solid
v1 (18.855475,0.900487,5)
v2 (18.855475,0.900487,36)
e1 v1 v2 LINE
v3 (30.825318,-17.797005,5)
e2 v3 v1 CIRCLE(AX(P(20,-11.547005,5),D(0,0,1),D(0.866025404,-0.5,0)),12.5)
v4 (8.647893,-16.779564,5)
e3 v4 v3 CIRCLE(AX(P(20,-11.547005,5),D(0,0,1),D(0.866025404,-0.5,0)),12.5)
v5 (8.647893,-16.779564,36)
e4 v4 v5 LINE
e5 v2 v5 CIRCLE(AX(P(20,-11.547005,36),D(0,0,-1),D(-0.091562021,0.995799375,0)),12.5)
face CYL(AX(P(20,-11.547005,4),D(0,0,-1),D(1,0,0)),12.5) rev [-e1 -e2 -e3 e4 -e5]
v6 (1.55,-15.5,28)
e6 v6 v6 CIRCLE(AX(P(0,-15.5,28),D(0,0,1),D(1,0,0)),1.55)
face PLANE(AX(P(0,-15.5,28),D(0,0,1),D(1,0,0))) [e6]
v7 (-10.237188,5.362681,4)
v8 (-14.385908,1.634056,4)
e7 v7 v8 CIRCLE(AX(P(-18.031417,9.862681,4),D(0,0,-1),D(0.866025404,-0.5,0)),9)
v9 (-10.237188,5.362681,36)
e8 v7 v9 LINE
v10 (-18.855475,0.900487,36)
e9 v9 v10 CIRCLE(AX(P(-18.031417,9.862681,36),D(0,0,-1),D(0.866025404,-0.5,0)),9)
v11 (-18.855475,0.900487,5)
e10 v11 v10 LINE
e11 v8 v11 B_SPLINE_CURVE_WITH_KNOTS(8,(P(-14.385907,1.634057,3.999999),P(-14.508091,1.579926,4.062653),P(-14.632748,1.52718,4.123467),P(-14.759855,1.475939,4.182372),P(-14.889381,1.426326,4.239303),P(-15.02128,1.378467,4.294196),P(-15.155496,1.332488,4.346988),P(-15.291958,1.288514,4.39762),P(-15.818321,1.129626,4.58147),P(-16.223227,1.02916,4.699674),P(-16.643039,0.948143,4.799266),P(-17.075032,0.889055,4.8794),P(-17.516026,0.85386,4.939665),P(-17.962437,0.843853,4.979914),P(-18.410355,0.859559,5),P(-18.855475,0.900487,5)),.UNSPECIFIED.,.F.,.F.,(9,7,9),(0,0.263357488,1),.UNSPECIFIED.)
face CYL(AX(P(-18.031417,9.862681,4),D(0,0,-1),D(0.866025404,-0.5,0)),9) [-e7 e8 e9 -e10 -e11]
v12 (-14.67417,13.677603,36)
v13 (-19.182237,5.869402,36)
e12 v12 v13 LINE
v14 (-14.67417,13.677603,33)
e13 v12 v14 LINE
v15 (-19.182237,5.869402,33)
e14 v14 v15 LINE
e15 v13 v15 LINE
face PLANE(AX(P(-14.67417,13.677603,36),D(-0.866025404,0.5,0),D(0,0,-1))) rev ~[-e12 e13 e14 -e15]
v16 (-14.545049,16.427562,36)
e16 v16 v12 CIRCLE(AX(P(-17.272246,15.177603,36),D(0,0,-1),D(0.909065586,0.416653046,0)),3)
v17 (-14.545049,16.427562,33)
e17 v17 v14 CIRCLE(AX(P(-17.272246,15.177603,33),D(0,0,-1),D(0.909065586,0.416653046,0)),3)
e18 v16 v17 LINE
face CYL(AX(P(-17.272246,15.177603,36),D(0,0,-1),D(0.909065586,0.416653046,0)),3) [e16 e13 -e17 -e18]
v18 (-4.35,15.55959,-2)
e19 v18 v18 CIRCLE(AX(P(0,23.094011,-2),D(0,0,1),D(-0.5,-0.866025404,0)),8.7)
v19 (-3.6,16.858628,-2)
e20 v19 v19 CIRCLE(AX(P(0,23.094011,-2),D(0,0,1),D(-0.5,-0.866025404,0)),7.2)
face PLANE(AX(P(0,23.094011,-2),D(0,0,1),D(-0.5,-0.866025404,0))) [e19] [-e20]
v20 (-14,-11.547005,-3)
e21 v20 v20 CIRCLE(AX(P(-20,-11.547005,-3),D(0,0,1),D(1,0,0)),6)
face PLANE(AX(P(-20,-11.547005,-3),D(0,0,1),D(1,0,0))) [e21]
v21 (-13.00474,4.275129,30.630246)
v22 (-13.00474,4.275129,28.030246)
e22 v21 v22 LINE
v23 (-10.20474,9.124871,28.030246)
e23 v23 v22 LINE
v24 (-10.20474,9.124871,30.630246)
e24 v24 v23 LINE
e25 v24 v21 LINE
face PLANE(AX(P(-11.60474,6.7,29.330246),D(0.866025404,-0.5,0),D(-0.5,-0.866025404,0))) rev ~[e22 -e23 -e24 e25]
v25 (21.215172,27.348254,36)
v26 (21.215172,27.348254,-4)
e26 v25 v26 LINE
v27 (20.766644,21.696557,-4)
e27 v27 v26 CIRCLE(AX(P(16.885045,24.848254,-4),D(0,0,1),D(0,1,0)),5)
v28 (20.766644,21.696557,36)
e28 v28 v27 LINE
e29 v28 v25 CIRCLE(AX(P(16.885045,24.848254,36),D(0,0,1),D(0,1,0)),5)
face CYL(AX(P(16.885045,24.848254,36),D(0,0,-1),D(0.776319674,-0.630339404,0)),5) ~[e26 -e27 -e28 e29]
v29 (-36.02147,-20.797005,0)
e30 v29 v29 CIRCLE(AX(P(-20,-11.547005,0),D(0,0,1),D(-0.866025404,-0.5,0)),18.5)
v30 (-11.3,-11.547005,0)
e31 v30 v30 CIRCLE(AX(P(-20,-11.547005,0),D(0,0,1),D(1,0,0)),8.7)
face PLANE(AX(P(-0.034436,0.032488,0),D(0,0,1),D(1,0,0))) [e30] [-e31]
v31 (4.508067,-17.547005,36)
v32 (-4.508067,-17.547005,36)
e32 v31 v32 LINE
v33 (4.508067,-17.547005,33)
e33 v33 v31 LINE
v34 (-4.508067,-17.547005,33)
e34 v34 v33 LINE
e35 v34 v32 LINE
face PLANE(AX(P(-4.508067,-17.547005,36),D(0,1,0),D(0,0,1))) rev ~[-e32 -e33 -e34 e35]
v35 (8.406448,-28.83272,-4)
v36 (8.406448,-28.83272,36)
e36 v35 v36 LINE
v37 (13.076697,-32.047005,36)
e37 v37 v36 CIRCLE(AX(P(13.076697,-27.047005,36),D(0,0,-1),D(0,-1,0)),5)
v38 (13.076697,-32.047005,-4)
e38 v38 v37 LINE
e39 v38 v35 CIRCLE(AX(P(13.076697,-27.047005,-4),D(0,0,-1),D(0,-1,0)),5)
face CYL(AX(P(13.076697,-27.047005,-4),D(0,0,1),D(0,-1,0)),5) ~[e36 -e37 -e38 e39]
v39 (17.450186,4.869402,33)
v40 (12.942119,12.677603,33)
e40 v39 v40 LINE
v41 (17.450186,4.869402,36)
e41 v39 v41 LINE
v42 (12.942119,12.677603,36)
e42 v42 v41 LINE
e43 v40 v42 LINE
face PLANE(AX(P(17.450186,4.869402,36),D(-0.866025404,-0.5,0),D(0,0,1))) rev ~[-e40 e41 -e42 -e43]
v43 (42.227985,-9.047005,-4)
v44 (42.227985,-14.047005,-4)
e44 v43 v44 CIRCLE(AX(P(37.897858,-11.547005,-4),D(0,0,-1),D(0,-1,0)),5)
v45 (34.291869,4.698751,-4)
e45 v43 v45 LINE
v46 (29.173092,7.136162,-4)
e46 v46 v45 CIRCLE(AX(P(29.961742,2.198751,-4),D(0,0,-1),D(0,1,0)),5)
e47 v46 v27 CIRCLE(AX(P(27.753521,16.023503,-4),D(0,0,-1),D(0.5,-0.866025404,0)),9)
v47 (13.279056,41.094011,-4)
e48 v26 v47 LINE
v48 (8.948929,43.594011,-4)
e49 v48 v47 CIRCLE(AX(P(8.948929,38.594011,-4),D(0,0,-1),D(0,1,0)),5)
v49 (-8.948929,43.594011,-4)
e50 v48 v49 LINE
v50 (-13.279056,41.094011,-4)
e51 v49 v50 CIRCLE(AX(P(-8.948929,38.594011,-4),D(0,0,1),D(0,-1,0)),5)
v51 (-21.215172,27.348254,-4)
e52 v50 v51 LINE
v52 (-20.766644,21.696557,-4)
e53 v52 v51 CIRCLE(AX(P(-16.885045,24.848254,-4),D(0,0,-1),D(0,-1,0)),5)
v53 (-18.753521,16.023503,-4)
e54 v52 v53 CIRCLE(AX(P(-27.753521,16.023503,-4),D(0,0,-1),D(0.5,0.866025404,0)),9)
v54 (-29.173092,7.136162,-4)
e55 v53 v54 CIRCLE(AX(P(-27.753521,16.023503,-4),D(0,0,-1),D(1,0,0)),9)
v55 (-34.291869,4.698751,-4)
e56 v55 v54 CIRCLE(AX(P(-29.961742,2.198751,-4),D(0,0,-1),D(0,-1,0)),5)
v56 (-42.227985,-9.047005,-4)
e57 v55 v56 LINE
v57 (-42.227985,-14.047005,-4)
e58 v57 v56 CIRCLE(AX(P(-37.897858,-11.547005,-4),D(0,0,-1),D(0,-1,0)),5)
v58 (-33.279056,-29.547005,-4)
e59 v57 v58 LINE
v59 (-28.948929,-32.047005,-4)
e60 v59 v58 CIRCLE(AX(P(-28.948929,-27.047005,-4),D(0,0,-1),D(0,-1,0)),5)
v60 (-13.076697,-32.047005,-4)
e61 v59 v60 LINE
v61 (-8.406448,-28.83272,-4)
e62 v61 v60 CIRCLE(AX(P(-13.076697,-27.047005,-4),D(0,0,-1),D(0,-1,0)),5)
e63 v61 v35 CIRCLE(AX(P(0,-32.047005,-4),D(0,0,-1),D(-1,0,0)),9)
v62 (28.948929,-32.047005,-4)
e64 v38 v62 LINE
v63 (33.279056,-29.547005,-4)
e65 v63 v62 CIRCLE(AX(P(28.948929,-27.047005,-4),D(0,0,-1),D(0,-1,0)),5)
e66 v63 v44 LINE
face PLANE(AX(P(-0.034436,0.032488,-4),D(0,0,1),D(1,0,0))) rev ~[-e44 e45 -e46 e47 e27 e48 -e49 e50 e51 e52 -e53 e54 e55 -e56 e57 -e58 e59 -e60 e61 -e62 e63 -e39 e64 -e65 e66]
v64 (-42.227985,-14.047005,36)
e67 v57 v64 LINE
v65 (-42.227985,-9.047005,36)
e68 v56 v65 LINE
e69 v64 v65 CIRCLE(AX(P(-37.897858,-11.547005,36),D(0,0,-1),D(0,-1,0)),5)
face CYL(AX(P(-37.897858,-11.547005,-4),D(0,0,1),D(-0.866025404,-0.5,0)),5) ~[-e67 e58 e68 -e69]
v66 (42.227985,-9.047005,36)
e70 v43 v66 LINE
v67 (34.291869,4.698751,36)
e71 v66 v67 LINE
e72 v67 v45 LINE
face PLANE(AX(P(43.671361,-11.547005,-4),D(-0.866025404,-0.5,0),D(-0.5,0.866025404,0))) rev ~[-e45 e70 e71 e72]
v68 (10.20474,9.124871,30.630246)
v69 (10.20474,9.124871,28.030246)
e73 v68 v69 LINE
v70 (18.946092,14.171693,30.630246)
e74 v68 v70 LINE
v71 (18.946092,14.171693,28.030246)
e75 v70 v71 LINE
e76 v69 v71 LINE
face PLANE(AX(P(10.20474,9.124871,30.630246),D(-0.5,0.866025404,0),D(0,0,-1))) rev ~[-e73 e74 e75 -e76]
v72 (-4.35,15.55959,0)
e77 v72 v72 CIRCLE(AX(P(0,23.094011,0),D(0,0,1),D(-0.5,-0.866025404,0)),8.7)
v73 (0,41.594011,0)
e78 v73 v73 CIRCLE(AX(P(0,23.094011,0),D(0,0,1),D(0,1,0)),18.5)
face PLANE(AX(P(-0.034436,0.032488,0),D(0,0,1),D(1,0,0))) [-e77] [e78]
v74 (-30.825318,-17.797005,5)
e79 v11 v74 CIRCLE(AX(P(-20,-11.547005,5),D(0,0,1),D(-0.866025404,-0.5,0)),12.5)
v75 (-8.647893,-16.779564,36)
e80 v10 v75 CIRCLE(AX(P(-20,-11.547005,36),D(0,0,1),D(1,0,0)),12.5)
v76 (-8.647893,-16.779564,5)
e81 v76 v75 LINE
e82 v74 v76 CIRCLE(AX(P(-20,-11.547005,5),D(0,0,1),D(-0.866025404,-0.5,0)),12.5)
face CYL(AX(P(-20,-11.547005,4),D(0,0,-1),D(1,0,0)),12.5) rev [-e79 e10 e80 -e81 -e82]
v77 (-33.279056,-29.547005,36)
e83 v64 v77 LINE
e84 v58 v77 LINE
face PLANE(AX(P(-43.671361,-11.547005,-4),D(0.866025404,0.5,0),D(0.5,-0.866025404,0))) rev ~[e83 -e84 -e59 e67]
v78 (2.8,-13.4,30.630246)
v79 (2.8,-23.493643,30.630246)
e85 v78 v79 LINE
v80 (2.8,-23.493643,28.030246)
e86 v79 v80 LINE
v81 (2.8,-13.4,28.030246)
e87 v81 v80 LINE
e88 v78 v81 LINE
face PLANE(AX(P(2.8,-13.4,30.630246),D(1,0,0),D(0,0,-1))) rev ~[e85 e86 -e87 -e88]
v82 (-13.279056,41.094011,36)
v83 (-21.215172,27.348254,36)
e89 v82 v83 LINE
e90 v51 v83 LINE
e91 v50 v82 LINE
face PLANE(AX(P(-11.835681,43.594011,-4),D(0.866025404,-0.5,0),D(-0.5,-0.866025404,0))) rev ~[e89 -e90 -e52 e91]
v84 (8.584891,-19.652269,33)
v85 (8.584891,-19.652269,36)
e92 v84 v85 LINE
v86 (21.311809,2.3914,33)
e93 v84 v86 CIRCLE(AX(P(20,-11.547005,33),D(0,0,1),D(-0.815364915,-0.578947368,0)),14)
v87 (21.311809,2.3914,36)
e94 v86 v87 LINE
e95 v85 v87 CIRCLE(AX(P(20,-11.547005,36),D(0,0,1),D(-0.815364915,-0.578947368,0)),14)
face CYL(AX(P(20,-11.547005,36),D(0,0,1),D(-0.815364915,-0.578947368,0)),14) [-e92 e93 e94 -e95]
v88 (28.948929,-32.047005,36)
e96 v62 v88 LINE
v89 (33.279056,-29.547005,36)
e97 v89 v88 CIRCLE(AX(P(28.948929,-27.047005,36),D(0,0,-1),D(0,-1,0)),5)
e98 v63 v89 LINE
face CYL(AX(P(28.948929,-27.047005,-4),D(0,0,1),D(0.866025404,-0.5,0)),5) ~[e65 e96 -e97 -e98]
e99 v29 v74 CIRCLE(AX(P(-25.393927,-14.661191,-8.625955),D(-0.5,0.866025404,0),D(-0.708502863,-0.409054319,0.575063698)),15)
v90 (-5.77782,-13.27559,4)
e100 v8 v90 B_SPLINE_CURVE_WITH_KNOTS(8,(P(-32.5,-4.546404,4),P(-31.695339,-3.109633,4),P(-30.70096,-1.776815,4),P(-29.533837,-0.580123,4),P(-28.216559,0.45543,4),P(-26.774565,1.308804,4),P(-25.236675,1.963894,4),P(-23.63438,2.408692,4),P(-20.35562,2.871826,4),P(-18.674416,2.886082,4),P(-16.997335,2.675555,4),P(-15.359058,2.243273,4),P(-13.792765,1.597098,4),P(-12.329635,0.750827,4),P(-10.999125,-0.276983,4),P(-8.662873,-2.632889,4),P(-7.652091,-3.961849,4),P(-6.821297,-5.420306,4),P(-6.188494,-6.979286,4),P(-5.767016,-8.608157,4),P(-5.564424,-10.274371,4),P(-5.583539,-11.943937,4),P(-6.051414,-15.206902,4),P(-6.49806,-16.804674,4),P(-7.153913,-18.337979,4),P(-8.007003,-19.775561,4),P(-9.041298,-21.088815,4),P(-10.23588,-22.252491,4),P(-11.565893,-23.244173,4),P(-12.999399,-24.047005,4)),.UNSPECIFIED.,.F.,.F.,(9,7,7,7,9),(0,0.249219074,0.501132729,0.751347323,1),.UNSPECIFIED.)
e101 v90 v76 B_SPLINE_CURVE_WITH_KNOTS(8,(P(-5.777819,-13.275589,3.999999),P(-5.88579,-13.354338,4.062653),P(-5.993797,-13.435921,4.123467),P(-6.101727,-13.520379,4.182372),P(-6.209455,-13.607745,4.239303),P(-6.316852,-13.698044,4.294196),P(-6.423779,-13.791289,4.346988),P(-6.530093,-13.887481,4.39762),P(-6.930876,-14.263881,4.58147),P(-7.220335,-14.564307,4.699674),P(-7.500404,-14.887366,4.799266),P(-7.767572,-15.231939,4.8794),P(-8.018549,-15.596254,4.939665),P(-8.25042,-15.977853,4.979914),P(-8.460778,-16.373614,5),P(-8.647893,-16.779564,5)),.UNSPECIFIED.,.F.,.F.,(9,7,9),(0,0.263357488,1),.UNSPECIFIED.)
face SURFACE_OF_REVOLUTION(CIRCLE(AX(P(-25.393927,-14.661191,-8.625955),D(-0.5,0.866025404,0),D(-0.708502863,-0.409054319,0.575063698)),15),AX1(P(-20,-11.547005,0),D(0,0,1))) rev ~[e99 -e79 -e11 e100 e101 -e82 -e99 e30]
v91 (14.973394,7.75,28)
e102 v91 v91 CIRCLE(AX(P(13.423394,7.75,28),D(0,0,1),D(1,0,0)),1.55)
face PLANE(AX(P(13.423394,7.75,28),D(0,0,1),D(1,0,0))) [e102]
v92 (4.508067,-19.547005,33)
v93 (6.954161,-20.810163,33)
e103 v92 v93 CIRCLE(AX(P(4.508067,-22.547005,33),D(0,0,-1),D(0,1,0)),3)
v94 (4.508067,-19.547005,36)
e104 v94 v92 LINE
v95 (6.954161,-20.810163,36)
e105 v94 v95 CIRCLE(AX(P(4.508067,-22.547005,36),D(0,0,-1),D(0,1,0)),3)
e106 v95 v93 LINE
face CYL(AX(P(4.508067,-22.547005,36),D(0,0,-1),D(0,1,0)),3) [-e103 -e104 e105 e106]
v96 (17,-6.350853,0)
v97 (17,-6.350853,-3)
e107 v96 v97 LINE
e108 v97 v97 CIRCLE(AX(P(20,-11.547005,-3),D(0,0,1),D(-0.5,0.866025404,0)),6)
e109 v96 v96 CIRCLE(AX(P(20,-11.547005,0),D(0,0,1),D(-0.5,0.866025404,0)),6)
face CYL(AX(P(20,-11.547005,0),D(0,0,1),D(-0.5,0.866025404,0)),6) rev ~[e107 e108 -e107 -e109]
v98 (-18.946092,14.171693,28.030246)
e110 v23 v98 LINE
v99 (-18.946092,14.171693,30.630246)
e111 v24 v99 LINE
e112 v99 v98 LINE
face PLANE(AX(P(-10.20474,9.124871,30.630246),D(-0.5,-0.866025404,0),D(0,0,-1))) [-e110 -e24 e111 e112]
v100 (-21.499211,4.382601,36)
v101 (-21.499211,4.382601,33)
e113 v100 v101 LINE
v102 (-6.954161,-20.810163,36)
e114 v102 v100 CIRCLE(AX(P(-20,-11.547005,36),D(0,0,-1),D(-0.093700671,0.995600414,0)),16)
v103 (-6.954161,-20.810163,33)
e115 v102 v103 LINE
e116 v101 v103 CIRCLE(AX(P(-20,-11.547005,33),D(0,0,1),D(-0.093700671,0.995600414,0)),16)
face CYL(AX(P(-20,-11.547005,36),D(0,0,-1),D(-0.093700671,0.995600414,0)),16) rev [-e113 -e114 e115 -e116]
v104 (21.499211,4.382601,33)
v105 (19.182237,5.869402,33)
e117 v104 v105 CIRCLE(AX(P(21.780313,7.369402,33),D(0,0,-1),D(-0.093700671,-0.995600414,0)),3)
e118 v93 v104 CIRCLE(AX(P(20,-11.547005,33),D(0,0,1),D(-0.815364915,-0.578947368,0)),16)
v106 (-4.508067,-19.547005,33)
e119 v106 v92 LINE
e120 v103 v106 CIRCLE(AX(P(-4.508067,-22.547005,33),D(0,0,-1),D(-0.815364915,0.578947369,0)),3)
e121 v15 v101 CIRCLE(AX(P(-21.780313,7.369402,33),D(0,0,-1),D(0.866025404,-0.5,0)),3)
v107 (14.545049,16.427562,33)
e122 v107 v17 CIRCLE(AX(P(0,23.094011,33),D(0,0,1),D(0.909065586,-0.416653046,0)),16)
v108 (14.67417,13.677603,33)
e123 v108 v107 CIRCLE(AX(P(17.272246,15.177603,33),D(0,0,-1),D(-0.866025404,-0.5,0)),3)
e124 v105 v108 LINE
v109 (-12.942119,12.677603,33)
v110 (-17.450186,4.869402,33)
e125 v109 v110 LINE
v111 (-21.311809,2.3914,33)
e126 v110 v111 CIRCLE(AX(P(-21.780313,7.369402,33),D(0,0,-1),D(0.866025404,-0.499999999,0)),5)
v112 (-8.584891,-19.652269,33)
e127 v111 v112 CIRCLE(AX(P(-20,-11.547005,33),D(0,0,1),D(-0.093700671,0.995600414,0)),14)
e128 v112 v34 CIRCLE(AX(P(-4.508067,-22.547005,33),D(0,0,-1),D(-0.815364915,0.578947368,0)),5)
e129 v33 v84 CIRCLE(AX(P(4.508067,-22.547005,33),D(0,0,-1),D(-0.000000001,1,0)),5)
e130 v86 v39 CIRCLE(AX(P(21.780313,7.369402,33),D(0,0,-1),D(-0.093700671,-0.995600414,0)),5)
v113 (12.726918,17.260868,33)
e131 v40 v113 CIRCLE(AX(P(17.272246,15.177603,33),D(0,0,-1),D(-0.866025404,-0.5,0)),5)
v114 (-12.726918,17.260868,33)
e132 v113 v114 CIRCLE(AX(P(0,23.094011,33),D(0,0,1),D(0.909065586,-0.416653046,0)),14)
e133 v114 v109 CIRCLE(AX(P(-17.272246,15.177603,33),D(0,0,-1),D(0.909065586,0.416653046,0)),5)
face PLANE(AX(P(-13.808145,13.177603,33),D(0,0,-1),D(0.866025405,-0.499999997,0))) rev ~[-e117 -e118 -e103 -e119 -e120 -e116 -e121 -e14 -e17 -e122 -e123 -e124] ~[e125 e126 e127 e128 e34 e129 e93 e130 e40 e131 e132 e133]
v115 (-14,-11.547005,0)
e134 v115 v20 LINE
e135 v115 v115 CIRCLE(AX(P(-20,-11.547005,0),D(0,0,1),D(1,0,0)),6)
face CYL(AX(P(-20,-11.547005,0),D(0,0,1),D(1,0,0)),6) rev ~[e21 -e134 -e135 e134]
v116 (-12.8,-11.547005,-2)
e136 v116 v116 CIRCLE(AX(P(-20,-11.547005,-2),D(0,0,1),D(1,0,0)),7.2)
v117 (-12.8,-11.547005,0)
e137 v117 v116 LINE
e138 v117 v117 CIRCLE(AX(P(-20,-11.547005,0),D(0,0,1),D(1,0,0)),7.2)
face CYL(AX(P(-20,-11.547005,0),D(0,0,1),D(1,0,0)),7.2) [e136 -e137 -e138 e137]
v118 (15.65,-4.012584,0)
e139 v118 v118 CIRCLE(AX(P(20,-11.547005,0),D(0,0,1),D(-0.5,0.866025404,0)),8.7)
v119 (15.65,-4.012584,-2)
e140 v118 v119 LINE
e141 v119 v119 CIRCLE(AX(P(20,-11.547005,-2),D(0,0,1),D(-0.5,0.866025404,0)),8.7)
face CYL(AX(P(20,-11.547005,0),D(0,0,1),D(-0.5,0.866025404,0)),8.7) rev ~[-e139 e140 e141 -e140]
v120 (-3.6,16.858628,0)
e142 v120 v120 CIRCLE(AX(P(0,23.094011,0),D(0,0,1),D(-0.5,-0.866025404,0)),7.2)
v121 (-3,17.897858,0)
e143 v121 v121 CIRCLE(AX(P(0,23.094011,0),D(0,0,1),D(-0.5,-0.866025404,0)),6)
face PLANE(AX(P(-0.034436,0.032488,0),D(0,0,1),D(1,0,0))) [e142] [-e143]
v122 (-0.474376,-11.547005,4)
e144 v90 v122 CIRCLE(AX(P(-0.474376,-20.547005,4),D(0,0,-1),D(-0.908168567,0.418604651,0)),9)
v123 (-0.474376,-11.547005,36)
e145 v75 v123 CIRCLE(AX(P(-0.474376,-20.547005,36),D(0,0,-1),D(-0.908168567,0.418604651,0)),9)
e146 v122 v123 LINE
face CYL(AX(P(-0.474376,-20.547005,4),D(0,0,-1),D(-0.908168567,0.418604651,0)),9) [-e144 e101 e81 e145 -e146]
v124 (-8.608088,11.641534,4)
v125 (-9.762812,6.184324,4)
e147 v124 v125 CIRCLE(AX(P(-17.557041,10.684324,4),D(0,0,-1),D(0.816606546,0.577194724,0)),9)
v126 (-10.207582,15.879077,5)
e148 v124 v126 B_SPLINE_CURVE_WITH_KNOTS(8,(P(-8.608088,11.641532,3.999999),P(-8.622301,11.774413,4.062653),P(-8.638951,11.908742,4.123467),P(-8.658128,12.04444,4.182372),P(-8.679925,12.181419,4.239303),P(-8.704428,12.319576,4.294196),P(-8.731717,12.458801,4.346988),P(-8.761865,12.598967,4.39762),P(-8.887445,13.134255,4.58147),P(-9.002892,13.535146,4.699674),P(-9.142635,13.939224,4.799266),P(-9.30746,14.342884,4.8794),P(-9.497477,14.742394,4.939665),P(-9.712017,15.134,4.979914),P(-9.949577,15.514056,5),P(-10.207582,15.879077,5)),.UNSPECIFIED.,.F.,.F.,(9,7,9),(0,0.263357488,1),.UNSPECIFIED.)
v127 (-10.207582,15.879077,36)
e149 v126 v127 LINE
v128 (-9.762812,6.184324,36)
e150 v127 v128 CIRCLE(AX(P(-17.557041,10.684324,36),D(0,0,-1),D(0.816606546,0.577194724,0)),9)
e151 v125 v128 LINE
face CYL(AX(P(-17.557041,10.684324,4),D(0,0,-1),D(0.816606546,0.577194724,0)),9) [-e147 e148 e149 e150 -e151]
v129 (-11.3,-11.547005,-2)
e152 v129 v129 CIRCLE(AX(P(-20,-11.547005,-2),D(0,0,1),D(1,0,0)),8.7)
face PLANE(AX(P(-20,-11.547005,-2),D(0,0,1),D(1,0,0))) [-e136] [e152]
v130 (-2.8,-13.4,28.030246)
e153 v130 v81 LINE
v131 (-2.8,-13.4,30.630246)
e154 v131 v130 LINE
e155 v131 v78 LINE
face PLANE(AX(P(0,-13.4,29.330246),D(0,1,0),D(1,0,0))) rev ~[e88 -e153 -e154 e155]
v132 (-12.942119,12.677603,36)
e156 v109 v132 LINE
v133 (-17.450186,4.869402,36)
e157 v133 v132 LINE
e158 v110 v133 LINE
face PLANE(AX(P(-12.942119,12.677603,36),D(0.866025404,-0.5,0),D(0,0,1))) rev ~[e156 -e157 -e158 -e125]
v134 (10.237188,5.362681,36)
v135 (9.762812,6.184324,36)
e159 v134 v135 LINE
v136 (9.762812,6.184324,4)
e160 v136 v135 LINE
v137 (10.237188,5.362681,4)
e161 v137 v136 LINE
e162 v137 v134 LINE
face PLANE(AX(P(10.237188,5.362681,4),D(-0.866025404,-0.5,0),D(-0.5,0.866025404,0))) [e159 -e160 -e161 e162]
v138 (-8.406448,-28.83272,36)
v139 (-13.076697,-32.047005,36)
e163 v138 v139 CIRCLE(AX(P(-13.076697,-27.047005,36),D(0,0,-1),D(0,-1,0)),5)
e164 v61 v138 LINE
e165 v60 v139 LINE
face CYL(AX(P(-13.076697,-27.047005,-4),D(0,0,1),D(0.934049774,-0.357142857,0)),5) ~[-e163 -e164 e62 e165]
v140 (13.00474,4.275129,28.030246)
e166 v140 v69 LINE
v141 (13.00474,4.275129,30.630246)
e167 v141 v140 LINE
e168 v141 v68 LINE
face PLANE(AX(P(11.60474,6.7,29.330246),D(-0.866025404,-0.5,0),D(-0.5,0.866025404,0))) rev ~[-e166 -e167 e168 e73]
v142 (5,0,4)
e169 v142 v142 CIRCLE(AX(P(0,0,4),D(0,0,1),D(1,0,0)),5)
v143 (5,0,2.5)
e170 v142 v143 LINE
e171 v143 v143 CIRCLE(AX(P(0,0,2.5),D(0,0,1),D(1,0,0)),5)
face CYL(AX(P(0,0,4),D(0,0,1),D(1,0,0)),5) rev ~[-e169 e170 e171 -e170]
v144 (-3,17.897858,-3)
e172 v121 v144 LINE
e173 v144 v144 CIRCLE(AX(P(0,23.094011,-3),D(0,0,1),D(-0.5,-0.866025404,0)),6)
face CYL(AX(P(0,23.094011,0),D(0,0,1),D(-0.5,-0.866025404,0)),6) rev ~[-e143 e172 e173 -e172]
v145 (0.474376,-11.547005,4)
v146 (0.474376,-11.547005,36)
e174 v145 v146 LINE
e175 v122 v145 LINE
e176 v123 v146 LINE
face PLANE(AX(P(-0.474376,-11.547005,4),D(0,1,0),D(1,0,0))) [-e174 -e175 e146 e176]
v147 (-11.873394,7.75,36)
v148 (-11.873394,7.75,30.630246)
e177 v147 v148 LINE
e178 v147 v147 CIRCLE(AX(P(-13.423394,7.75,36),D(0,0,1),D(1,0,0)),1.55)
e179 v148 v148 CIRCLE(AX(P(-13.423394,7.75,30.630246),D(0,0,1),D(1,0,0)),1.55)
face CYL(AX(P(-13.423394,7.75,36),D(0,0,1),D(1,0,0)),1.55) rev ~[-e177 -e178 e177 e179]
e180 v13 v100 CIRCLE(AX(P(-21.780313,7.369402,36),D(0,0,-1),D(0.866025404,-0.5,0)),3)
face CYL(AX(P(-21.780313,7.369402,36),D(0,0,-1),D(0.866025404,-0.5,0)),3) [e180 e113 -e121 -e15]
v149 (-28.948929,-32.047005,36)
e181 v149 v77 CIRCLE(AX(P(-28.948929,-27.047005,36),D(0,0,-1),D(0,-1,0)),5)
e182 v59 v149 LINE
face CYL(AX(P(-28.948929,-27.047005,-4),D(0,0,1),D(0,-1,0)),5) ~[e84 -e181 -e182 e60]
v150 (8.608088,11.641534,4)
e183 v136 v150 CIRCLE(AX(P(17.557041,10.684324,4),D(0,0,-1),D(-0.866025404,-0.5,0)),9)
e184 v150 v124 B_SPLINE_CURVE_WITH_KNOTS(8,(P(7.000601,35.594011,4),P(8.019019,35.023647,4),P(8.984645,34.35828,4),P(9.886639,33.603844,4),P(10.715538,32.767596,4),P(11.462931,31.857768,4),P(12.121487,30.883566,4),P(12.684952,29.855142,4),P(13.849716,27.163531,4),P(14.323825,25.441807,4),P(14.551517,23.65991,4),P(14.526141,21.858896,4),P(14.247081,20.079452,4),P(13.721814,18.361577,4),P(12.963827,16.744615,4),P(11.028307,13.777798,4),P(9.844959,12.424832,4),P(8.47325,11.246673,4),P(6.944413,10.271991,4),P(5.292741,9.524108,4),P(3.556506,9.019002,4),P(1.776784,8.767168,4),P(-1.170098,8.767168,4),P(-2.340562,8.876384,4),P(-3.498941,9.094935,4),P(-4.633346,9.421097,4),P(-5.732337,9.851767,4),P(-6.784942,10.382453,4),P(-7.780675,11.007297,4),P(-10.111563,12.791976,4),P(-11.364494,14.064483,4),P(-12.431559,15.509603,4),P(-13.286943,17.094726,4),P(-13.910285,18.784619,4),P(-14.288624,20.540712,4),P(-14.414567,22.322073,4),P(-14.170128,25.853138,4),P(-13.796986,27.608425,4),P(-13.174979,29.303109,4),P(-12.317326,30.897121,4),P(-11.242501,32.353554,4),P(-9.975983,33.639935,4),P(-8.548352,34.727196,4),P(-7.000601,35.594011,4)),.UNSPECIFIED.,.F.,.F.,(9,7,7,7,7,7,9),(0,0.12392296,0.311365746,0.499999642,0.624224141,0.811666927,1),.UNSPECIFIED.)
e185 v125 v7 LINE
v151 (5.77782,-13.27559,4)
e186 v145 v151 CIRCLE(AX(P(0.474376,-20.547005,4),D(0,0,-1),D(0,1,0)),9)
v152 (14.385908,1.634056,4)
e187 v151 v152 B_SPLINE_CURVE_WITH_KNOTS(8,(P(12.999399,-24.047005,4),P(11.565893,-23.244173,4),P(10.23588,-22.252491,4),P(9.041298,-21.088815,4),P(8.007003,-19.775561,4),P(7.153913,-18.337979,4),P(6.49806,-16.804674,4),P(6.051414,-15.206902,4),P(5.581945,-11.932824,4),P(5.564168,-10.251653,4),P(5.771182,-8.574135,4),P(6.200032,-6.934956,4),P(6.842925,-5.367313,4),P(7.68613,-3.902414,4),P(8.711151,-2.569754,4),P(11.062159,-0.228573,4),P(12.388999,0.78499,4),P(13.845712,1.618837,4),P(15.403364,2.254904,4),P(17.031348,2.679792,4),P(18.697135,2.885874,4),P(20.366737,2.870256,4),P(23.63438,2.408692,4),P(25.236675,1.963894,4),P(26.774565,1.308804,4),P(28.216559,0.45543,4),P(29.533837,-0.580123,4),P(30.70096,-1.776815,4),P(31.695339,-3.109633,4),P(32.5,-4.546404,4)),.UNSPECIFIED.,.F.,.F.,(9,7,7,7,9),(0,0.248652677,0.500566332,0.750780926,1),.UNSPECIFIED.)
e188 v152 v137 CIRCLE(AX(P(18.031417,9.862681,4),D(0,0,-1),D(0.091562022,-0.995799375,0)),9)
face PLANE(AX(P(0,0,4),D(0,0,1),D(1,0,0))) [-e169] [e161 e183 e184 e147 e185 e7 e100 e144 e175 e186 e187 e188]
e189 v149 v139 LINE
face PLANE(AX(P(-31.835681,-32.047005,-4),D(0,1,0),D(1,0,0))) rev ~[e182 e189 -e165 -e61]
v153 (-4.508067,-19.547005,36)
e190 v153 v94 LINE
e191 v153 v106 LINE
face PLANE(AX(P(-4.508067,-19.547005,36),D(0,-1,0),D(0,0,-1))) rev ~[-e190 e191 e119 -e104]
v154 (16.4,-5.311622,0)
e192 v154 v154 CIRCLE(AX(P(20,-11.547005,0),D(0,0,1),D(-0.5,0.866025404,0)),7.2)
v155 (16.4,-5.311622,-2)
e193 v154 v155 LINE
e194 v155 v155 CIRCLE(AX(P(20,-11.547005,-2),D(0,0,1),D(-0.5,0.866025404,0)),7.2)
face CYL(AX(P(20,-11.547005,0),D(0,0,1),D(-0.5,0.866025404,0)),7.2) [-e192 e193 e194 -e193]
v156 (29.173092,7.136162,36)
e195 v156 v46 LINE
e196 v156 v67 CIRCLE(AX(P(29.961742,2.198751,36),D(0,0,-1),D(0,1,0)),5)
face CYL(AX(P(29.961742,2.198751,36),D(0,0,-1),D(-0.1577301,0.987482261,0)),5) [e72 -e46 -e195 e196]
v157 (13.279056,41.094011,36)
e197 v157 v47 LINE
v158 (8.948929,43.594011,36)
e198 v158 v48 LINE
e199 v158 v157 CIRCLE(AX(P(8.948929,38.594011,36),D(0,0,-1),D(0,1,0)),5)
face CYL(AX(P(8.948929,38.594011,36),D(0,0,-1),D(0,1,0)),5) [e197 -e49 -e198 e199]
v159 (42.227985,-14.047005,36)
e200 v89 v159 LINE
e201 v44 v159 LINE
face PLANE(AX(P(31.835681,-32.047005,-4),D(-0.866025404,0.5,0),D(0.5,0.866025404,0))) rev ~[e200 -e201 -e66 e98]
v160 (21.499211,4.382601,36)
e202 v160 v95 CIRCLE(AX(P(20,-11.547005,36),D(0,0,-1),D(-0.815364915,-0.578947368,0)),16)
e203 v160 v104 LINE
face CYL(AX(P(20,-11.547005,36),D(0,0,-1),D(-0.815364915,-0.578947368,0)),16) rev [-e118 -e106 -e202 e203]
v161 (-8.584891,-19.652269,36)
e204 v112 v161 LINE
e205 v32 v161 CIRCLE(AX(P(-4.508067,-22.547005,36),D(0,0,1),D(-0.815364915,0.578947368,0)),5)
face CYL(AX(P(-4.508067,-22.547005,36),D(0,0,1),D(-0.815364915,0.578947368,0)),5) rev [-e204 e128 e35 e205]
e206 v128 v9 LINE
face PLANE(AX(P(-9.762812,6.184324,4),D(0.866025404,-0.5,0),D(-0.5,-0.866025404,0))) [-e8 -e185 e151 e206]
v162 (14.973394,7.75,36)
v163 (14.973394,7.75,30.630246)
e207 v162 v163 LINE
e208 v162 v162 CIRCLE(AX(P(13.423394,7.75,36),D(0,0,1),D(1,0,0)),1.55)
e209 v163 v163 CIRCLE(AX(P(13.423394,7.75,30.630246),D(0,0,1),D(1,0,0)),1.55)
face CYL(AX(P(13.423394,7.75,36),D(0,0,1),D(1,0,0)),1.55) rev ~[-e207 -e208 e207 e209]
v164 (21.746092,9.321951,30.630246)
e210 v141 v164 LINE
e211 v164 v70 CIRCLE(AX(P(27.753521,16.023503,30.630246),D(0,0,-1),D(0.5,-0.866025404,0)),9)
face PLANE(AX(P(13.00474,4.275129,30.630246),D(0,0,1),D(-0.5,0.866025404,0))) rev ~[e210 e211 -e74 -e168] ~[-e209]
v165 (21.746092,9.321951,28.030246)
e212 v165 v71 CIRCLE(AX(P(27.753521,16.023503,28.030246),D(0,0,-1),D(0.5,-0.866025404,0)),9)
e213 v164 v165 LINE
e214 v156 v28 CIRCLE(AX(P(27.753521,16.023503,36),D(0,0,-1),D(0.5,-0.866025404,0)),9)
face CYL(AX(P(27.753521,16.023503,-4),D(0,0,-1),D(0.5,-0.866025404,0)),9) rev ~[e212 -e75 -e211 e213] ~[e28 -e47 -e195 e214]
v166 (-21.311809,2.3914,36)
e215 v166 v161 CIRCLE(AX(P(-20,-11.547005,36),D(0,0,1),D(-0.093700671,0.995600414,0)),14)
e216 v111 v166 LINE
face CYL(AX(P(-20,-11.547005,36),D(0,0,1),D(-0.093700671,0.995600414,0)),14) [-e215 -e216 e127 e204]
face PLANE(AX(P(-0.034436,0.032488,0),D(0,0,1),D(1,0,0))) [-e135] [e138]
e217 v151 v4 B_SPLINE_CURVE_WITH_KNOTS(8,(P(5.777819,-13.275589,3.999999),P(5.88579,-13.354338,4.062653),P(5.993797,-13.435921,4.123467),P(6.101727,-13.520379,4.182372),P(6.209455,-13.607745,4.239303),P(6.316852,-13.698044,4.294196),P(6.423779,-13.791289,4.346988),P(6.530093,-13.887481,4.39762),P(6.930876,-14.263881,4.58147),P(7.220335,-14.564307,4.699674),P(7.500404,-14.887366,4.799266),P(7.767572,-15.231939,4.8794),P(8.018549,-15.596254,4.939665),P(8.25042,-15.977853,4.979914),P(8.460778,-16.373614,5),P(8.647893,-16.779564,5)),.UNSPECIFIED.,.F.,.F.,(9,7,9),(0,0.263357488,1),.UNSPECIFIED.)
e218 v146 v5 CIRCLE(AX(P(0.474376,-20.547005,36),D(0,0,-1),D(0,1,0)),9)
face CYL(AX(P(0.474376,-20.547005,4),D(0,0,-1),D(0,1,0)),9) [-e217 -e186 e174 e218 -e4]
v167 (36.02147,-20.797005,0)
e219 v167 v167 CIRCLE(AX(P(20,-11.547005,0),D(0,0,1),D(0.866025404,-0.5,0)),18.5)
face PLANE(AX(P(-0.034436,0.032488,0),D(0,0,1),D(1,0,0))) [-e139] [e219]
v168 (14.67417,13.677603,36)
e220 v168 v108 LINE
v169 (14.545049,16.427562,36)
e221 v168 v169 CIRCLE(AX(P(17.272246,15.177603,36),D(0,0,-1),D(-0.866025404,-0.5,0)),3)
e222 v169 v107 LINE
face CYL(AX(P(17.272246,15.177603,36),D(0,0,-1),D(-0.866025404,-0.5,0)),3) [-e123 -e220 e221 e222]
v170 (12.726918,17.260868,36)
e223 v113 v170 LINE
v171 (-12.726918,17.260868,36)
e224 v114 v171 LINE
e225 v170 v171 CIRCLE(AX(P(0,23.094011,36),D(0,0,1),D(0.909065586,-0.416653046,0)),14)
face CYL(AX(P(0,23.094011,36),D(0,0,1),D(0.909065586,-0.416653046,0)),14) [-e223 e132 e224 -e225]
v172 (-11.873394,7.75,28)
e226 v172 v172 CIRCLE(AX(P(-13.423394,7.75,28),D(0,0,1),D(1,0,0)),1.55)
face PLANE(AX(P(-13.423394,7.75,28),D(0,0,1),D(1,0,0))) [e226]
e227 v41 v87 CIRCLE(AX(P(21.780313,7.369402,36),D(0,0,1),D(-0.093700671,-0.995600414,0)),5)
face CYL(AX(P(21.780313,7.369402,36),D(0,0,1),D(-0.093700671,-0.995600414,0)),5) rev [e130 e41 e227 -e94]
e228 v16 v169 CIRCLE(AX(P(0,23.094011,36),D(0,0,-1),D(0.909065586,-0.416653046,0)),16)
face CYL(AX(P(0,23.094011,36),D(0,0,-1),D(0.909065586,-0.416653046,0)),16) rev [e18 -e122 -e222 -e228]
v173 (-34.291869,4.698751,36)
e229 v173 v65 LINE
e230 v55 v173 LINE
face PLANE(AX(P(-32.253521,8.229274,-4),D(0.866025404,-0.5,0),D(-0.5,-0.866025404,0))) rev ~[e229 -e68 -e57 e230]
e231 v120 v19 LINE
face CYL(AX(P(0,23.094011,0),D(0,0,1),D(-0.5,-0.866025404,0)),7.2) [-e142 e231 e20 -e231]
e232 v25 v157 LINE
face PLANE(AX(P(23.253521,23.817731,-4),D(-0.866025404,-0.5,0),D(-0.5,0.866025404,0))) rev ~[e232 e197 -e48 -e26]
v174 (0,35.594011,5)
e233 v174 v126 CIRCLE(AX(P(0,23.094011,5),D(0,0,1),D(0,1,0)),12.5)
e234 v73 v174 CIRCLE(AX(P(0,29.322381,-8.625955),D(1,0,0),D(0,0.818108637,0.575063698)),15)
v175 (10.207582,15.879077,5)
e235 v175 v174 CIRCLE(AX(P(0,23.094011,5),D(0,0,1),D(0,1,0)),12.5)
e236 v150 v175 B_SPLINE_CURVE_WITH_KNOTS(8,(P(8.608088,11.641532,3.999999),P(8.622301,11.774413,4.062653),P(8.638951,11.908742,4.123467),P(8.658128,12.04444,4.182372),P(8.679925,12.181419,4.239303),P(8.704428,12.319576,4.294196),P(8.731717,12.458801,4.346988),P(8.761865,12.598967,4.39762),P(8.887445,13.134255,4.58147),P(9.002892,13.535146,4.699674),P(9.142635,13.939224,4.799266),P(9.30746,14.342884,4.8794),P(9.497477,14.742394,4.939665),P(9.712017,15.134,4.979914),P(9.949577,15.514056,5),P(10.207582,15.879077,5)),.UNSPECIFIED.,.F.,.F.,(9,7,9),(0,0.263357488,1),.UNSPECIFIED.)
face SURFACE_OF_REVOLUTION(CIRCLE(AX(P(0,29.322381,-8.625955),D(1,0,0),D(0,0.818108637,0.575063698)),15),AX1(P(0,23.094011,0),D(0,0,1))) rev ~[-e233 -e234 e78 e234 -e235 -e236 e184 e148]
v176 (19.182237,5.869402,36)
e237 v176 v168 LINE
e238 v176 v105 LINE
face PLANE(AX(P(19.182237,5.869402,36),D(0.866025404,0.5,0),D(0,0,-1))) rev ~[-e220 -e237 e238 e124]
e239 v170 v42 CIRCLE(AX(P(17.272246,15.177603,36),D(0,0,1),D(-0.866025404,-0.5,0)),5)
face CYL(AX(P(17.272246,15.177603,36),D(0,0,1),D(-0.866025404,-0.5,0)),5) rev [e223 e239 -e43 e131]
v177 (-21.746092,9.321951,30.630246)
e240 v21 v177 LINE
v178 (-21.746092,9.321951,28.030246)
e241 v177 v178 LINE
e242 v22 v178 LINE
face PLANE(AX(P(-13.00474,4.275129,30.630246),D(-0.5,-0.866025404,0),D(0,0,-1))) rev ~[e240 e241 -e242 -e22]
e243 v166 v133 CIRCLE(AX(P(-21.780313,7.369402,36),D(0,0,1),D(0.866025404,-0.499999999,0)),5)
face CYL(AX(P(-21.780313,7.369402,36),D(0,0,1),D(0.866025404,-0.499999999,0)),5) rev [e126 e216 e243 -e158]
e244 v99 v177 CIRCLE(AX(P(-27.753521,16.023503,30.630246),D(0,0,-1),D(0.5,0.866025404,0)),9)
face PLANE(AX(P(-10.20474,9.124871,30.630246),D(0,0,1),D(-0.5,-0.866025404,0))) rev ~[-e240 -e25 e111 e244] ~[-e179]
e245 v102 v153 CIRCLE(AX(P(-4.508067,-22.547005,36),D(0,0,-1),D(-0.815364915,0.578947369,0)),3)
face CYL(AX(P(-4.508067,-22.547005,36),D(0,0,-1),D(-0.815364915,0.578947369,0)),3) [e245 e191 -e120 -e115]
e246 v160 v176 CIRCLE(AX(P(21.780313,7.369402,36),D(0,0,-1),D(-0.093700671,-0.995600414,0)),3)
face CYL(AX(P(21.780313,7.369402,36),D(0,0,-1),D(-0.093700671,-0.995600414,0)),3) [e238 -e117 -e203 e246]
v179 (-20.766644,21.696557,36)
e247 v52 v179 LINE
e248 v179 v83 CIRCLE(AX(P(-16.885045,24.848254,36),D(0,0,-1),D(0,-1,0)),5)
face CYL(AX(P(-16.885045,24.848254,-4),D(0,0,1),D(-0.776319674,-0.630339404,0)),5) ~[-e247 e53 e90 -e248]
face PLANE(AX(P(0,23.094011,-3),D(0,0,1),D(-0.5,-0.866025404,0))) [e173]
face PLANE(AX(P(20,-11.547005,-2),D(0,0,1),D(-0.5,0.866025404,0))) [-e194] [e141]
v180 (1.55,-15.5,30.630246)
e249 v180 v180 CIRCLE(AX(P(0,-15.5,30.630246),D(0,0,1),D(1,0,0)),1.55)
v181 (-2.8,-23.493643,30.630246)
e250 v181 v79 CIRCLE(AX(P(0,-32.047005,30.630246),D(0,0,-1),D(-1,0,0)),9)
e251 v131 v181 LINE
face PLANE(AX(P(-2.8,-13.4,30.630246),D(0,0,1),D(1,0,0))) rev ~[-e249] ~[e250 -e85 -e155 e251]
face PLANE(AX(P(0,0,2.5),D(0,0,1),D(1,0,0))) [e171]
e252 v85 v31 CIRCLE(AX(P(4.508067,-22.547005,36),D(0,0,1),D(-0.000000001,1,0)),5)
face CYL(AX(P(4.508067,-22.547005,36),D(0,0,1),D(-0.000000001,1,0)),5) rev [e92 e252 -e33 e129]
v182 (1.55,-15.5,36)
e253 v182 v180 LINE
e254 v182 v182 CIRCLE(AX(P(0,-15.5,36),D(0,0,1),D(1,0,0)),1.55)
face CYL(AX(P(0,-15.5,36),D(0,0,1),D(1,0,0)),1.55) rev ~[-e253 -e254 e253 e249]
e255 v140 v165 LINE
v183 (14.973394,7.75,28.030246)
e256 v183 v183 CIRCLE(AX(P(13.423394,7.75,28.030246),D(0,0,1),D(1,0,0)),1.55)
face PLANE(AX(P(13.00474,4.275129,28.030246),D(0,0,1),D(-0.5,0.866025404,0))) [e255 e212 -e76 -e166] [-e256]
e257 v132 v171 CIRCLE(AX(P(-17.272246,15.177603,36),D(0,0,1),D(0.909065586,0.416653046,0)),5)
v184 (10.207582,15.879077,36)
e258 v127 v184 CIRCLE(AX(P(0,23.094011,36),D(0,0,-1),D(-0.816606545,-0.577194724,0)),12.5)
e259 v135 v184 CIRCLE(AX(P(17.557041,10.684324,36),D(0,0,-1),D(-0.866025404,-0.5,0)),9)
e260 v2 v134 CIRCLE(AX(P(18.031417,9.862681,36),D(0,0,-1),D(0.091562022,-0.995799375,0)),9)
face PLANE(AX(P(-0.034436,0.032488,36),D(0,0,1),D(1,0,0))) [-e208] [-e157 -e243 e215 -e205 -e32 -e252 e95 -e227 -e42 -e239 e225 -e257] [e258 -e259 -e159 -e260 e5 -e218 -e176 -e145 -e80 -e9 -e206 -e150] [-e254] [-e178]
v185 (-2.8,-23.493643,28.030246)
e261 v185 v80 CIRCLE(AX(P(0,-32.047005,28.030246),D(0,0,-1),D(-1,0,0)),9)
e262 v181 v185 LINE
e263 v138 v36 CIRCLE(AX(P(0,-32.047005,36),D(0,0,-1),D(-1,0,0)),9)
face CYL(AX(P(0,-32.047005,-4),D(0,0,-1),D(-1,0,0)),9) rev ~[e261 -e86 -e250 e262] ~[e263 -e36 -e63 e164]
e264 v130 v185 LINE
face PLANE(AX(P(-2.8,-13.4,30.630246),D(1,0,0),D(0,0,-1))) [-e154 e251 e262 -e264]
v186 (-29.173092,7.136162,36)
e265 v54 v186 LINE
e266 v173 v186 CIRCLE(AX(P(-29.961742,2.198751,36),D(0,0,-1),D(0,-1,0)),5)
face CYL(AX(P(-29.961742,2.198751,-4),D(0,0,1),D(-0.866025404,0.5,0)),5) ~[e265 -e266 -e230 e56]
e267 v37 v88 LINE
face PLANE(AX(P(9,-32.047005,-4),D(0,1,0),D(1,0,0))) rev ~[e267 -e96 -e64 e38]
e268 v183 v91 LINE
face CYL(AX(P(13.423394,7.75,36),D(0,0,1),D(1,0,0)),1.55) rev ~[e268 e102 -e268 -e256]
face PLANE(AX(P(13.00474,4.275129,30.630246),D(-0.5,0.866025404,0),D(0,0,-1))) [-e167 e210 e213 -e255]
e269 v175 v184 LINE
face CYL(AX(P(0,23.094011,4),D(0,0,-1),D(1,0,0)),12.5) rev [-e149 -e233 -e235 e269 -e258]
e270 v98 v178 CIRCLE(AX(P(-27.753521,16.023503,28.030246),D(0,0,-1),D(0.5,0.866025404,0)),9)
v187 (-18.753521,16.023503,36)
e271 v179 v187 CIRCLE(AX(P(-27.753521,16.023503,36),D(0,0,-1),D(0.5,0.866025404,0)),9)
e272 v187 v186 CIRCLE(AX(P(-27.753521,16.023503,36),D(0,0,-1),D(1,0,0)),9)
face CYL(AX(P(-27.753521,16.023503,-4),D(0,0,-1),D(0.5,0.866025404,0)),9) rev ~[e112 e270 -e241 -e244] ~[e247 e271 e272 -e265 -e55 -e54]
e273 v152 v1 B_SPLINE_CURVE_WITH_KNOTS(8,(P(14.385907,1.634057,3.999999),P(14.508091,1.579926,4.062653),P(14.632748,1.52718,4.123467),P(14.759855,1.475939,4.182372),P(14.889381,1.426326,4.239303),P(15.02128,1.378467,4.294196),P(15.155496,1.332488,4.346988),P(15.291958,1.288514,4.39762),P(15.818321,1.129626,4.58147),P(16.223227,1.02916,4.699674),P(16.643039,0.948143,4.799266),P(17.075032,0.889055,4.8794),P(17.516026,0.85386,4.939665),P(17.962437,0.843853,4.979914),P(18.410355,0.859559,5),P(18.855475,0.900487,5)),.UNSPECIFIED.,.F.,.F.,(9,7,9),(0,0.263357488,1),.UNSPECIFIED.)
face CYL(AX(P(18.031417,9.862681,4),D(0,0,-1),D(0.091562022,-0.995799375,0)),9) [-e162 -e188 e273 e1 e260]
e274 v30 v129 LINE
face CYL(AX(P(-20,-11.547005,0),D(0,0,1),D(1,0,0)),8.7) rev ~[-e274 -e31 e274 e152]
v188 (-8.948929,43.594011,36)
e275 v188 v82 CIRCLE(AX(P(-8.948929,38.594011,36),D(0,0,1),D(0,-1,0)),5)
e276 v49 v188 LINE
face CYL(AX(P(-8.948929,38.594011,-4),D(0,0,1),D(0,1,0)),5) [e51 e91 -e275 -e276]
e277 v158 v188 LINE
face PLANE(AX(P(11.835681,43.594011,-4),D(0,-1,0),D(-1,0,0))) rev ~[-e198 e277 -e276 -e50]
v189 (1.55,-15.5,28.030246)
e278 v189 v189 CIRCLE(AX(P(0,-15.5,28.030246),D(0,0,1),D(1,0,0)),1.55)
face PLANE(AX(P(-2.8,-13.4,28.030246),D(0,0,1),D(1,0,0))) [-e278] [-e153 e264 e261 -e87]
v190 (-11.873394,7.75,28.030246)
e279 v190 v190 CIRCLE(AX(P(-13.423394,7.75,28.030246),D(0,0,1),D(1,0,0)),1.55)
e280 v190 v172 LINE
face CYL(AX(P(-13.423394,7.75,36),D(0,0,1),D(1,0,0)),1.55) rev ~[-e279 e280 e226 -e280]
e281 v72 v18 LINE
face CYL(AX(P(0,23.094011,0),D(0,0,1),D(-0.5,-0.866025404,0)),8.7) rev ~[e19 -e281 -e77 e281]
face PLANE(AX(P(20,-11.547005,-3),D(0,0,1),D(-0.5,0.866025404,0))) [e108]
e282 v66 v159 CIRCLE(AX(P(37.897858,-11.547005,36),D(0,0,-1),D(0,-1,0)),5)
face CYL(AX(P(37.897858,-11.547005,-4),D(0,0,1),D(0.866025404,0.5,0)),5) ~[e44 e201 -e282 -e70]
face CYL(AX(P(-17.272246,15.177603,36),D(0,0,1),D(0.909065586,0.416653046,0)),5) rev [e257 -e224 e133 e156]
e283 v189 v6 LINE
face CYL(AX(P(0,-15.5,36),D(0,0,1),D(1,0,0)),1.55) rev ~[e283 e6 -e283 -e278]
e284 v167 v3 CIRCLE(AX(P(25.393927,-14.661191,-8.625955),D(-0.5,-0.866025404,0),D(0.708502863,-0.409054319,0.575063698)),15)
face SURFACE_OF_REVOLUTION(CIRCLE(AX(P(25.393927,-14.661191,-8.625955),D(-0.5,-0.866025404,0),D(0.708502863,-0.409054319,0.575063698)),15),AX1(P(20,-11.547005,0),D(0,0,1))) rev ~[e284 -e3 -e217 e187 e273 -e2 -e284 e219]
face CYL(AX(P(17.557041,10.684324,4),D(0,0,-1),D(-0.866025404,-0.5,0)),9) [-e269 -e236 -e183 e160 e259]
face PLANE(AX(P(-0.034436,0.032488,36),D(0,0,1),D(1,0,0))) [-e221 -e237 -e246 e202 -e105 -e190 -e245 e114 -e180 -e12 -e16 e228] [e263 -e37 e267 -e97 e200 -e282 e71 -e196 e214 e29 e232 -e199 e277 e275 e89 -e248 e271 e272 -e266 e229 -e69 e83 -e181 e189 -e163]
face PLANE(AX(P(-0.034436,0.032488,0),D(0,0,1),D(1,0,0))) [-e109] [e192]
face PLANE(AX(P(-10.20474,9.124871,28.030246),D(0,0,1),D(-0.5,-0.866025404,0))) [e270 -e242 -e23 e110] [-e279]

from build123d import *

# Parameters (mm, degrees)
EXTRUDE_1_DEPTH          = 36
CUT_EXTRUDE_START        = 4
CUT_EXTRUDE_1_DEPTH      = 32
SKETCH_2_3_R             = 12.5
CUT_EXTRUDE_2_DEPTH      = 32
PATTERN_CIRCULAR_1_COUNT = 3
EXTRUDE_START            = -4
EXTRUDE_2_DEPTH          = 4
FILLET_1_R               = 5
SKETCH_7_W               = 2
SKETCH_7_H               = 6
SKETCH_8_R               = 1.55
CUT_EXTRUDE_4_DEPTH      = 8
CUT_EXTRUDE_START_2      = -1
SKETCH_11_W              = 5.6
SKETCH_11_H              = 2.6
CUT_EXTRUDE_5_DEPTH      = 79.193153111
SKETCH_12_R              = 5
CUT_EXTRUDE_7_DEPTH      = 1.5
SKETCH_13_R              = 6
CUT_EXTRUDE_8_DEPTH      = 3
PATTERN_CIRCULAR_3_COUNT = 3
SKETCH_14_R              = 8.7
SKETCH_14_R_2            = 7.2
CUT_EXTRUDE_9_DEPTH      = 2
PATTERN_CIRCULAR_4_COUNT = 3
PATTERN_CIRCULAR_5_COUNT = 3


with BuildPart() as part:
    # 草图3 → 凸台-拉伸1 (new body)
    with BuildSketch(Plane.XY):
        with BuildLine():
            Line((11.835680518, 43.594010768), (-11.835680518, 43.594010768))
            Line((-11.835680518, 43.594010768), (-23.253520778, 23.817731326))
            ThreePointArc((-23.253520778, 23.817731326), (-19.959292144, 20.523502692), (-18.753520778, 16.023502692))
            ThreePointArc((-18.753520778, 16.023502692), (-23.253520778, 8.229274058), (-32.253520778, 8.229274058))
            Line((-32.253520778, 8.229274058), (-43.671361037, -11.547005384))
            Line((-43.671361037, -11.547005384), (-31.835680518, -32.047005384))
            Line((-31.835680518, -32.047005384), (-9, -32.047005384))
            ThreePointArc((-9, -32.047005384), (0, -23.047005384), (9, -32.047005384))
            Line((9, -32.047005384), (31.835680518, -32.047005384))
            Line((31.835680518, -32.047005384), (43.671361037, -11.547005384))
            Line((43.671361037, -11.547005384), (32.253520778, 8.229274058))
            ThreePointArc((32.253520778, 8.229274058), (19.959292144, 11.523502692), (23.253520778, 23.817731326))
            Line((23.253520778, 23.817731326), (11.835680518, 43.594010768))
        make_face()
    extrude(amount=EXTRUDE_1_DEPTH)

    # 草图2 → 切除-拉伸1 (cut)
    with BuildSketch(Plane.XY.offset(CUT_EXTRUDE_START)):
        with BuildLine():
            ThreePointArc((-10.207581819, 15.879076713), (-8.566497102, 11.096786669), (-9.762812095, 6.184324194))
            Line((-9.762812095, 6.184324194), (-10.237187905, 5.362681189))
            ThreePointArc((-10.237187905, 5.362681189), (-13.893347706, 1.870410777), (-18.855474732, 0.90048681))
            ThreePointArc((-18.855474732, 0.90048681), (-9.174682453, -5.297005384), (-8.647892913, -16.779563523))
            ThreePointArc((-8.647892913, -16.779563523), (-5.326850604, -12.967197446), (-0.47437581, -11.547005384))
            Line((-0.47437581, -11.547005384), (0.47437581, -11.547005384))
            ThreePointArc((0.47437581, -11.547005384), (5.326850604, -12.967197446), (8.647892913, -16.779563523))
            ThreePointArc((8.647892913, -16.779563523), (9.174682453, -5.297005384), (18.855474732, 0.90048681))
            ThreePointArc((18.855474732, 0.90048681), (13.893347706, 1.870410777), (10.237187905, 5.362681189))
            Line((10.237187905, 5.362681189), (9.762812095, 6.184324194))
            ThreePointArc((9.762812095, 6.184324194), (8.566497102, 11.096786669), (10.207581819, 15.879076713))
            ThreePointArc((10.207581819, 15.879076713), (0, 10.594010768), (-10.207581819, 15.879076713))
        make_face()
    extrude(amount=CUT_EXTRUDE_1_DEPTH, mode=Mode.SUBTRACT)

    # 草图2<3> → 切除-拉伸2 (cut)
    with BuildSketch(Plane.XY.offset(CUT_EXTRUDE_START)):
        with Locations((0, 23.094010768)):
            Circle(SKETCH_2_3_R)
        with Locations((-20, -11.547005384)):
            Circle(SKETCH_2_3_R)
        with Locations((20, -11.547005384)):
            Circle(SKETCH_2_3_R)
    extrude(amount=CUT_EXTRUDE_2_DEPTH, mode=Mode.SUBTRACT)

    # 草图4 → 切除-旋转1 (revolve, cut)
    with BuildSketch(Plane(origin=(0, 0, 0), x_dir=(0, 0, -1), z_dir=(1, 0, 0))):
        with BuildLine():
            Line((-5, 23.094010768), (0, 23.094010768))
            Line((0, 23.094010768), (0, 41.594010768))
            ThreePointArc((0, 41.594010768), (-2.897363718, 38.9251472), (-5, 35.594010768))
            Line((-5, 35.594010768), (-5, 23.094010768))
        make_face()
    cut_revolve_1 = revolve(axis=Axis((0, 23.094010768, 0), (0, 0, 1)), mode=Mode.SUBTRACT)

    # 阵列(圆周)1: 切除-旋转1 ×3 about axis
    pattern_circular_1_axis = Axis((0, 0, 0), (0, 0, 1))
    for i in range(1, PATTERN_CIRCULAR_1_COUNT):
        add(cut_revolve_1.rotate(pattern_circular_1_axis, i * 360 / PATTERN_CIRCULAR_1_COUNT), mode=Mode.SUBTRACT)

    # 草图3<3> → 凸台-拉伸2 (add)
    with BuildSketch(Plane.XY.offset(EXTRUDE_START)):
        with BuildLine():
            Line((11.835680518, 43.594010768), (-11.835680518, 43.594010768))
            Line((-11.835680518, 43.594010768), (-23.253520778, 23.817731326))
            ThreePointArc((-23.253520778, 23.817731326), (-19.959292144, 20.523502692), (-18.753520778, 16.023502692))
            ThreePointArc((-18.753520778, 16.023502692), (-23.253520778, 8.229274058), (-32.253520778, 8.229274058))
            Line((-32.253520778, 8.229274058), (-43.671361037, -11.547005384))
            Line((-43.671361037, -11.547005384), (-31.835680518, -32.047005384))
            Line((-31.835680518, -32.047005384), (-9, -32.047005384))
            ThreePointArc((-9, -32.047005384), (0, -23.047005384), (9, -32.047005384))
            Line((9, -32.047005384), (31.835680518, -32.047005384))
            Line((31.835680518, -32.047005384), (43.671361037, -11.547005384))
            Line((43.671361037, -11.547005384), (32.253520778, 8.229274058))
            ThreePointArc((32.253520778, 8.229274058), (19.959292144, 11.523502692), (23.253520778, 23.817731326))
            Line((23.253520778, 23.817731326), (11.835680518, 43.594010768))
        make_face()
    extrude(amount=EXTRUDE_2_DEPTH)

    # 圆角1
    fillet_1_edges = [part.edges().sort_by_distance(p)[0] for p in [
        (32.253520778, 8.229274058, 16),
        (43.671361037, -11.547005384, 16),
        (31.835680518, -32.047005384, 16),
        (9, -32.047005384, 16),
        (-9, -32.047005384, 16),
        (-31.835680518, -32.047005384, 16),
        (-43.671361037, -11.547005384, 16),
        (-32.253520778, 8.229274058, 16),
        (-23.253520778, 23.817731326, 16),
        (-11.835680518, 43.594010768, 16),
        (11.835680518, 43.594010768, 16),
        (23.253520778, 23.817731326, 16),
    ]]
    fillet(fillet_1_edges, radius=FILLET_1_R)

    # 切除-扫描1: sweep along a path in 草图6
    with BuildLine(Plane.XY.offset(36)) as sweep_1_path:
        Line((-13.808144519, 13.177602903), (-18.316211134, 5.369402481))
        ThreePointArc((-18.316211134, 5.369402481), (-19.620040628, 4.002917019), (-21.405510065, 3.387000825))
        ThreePointArc((-21.405510065, 3.387000825), (-32.990381057, -19.047005384), (-7.769526275, -20.23121591))
        ThreePointArc((-7.769526275, -20.23121591), (-6.343392486, -18.992912117), (-4.508066615, -18.547005384))
        Line((-4.508066615, -18.547005384), (4.508066615, -18.547005384))
        ThreePointArc((4.508066615, -18.547005384), (6.343392486, -18.992912117), (7.769526275, -20.23121591))
        ThreePointArc((7.769526275, -20.23121591), (32.990381057, -19.047005384), (21.405510065, 3.387000825))
        ThreePointArc((21.405510065, 3.387000825), (19.620040628, 4.002917019), (18.316211134, 5.369402481))
        Line((18.316211134, 5.369402481), (13.808144519, 13.177602903))
        ThreePointArc((13.808144519, 13.177602903), (13.276648142, 14.989995098), (13.63598379, 16.844215085))
        ThreePointArc((13.63598379, 16.844215085), (0, 38.094010768), (-13.63598379, 16.844215085))
        ThreePointArc((-13.63598379, 16.844215085), (-13.276648142, 14.989995098), (-13.808144519, 13.177602903))
    # 草图7 → 切除-扫描1 (sweep, cut)
    with BuildSketch(Plane(origin=(0, 0, 0), x_dir=(0, 1, 0), z_dir=(-1, 0, 0))):
        with Locations((38.094010768, -36)):
            Rectangle(SKETCH_7_W, SKETCH_7_H)
    sweep(path=sweep_1_path.line, mode=Mode.SUBTRACT)

    # 草图8 → 切除-拉伸4 (cut)
    with BuildSketch(Plane.XY.offset(36)):
        with Locations((-13.423393759, 7.75)):
            Circle(SKETCH_8_R)
        with Locations((13.423393759, 7.75)):
            Circle(SKETCH_8_R)
        with Locations((0, -15.5)):
            Circle(SKETCH_8_R)
    extrude(amount=-CUT_EXTRUDE_4_DEPTH, mode=Mode.SUBTRACT)

    # 草图11 → 切除-拉伸5 (cut, through all)
    with BuildSketch(Plane(origin=(0, -12.4, 0), x_dir=(1, 0, 0), z_dir=(0, 1, 0)).offset(CUT_EXTRUDE_START_2)):
        with Locations((0, -29.330246335)):
            Rectangle(SKETCH_11_W, SKETCH_11_H)
    cut_extrude_5 = extrude(amount=-CUT_EXTRUDE_5_DEPTH, mode=Mode.SUBTRACT)

    # 草图12 → 切除-拉伸7 (cut)
    with BuildSketch(Plane.XY.offset(4)):
        Circle(SKETCH_12_R)
    extrude(amount=-CUT_EXTRUDE_7_DEPTH, mode=Mode.SUBTRACT)

    # 草图13 → 切除-拉伸8 (cut)
    with BuildSketch(Plane.XY):
        with Locations((-20, -11.547005384)):
            Circle(SKETCH_13_R)
    cut_extrude_8 = extrude(amount=-CUT_EXTRUDE_8_DEPTH, mode=Mode.SUBTRACT)

    # 阵列(圆周)3: 切除-拉伸8 ×3 about axis
    pattern_circular_3_axis = Axis((0, 0, 2.5), (0, 0, 1))
    for i in range(1, PATTERN_CIRCULAR_3_COUNT):
        add(cut_extrude_8.rotate(pattern_circular_3_axis, i * 360 / PATTERN_CIRCULAR_3_COUNT), mode=Mode.SUBTRACT)

    # 草图14 → 切除-拉伸9 (cut)
    with BuildSketch(Plane.XY):
        with Locations((-20, -11.547005384)):
            Circle(SKETCH_14_R)
        with Locations((-20, -11.547005384)):
            Circle(SKETCH_14_R_2, mode=Mode.SUBTRACT)
    cut_extrude_9 = extrude(amount=-CUT_EXTRUDE_9_DEPTH, mode=Mode.SUBTRACT)

    # 阵列(圆周)4: 切除-拉伸9 ×3 about axis
    pattern_circular_4_axis = Axis((0, 0, 2.5), (0, 0, 1))
    for i in range(1, PATTERN_CIRCULAR_4_COUNT):
        add(cut_extrude_9.rotate(pattern_circular_4_axis, i * 360 / PATTERN_CIRCULAR_4_COUNT), mode=Mode.SUBTRACT)

    # 阵列(圆周)5: 切除-拉伸5 ×3 about axis
    pattern_circular_5_axis = Axis((0, 0, 2.5), (0, 0, 1))
    for i in range(1, PATTERN_CIRCULAR_5_COUNT):
        add(cut_extrude_5.rotate(pattern_circular_5_axis, i * 360 / PATTERN_CIRCULAR_5_COUNT), mode=Mode.SUBTRACT)


solid = part.part
